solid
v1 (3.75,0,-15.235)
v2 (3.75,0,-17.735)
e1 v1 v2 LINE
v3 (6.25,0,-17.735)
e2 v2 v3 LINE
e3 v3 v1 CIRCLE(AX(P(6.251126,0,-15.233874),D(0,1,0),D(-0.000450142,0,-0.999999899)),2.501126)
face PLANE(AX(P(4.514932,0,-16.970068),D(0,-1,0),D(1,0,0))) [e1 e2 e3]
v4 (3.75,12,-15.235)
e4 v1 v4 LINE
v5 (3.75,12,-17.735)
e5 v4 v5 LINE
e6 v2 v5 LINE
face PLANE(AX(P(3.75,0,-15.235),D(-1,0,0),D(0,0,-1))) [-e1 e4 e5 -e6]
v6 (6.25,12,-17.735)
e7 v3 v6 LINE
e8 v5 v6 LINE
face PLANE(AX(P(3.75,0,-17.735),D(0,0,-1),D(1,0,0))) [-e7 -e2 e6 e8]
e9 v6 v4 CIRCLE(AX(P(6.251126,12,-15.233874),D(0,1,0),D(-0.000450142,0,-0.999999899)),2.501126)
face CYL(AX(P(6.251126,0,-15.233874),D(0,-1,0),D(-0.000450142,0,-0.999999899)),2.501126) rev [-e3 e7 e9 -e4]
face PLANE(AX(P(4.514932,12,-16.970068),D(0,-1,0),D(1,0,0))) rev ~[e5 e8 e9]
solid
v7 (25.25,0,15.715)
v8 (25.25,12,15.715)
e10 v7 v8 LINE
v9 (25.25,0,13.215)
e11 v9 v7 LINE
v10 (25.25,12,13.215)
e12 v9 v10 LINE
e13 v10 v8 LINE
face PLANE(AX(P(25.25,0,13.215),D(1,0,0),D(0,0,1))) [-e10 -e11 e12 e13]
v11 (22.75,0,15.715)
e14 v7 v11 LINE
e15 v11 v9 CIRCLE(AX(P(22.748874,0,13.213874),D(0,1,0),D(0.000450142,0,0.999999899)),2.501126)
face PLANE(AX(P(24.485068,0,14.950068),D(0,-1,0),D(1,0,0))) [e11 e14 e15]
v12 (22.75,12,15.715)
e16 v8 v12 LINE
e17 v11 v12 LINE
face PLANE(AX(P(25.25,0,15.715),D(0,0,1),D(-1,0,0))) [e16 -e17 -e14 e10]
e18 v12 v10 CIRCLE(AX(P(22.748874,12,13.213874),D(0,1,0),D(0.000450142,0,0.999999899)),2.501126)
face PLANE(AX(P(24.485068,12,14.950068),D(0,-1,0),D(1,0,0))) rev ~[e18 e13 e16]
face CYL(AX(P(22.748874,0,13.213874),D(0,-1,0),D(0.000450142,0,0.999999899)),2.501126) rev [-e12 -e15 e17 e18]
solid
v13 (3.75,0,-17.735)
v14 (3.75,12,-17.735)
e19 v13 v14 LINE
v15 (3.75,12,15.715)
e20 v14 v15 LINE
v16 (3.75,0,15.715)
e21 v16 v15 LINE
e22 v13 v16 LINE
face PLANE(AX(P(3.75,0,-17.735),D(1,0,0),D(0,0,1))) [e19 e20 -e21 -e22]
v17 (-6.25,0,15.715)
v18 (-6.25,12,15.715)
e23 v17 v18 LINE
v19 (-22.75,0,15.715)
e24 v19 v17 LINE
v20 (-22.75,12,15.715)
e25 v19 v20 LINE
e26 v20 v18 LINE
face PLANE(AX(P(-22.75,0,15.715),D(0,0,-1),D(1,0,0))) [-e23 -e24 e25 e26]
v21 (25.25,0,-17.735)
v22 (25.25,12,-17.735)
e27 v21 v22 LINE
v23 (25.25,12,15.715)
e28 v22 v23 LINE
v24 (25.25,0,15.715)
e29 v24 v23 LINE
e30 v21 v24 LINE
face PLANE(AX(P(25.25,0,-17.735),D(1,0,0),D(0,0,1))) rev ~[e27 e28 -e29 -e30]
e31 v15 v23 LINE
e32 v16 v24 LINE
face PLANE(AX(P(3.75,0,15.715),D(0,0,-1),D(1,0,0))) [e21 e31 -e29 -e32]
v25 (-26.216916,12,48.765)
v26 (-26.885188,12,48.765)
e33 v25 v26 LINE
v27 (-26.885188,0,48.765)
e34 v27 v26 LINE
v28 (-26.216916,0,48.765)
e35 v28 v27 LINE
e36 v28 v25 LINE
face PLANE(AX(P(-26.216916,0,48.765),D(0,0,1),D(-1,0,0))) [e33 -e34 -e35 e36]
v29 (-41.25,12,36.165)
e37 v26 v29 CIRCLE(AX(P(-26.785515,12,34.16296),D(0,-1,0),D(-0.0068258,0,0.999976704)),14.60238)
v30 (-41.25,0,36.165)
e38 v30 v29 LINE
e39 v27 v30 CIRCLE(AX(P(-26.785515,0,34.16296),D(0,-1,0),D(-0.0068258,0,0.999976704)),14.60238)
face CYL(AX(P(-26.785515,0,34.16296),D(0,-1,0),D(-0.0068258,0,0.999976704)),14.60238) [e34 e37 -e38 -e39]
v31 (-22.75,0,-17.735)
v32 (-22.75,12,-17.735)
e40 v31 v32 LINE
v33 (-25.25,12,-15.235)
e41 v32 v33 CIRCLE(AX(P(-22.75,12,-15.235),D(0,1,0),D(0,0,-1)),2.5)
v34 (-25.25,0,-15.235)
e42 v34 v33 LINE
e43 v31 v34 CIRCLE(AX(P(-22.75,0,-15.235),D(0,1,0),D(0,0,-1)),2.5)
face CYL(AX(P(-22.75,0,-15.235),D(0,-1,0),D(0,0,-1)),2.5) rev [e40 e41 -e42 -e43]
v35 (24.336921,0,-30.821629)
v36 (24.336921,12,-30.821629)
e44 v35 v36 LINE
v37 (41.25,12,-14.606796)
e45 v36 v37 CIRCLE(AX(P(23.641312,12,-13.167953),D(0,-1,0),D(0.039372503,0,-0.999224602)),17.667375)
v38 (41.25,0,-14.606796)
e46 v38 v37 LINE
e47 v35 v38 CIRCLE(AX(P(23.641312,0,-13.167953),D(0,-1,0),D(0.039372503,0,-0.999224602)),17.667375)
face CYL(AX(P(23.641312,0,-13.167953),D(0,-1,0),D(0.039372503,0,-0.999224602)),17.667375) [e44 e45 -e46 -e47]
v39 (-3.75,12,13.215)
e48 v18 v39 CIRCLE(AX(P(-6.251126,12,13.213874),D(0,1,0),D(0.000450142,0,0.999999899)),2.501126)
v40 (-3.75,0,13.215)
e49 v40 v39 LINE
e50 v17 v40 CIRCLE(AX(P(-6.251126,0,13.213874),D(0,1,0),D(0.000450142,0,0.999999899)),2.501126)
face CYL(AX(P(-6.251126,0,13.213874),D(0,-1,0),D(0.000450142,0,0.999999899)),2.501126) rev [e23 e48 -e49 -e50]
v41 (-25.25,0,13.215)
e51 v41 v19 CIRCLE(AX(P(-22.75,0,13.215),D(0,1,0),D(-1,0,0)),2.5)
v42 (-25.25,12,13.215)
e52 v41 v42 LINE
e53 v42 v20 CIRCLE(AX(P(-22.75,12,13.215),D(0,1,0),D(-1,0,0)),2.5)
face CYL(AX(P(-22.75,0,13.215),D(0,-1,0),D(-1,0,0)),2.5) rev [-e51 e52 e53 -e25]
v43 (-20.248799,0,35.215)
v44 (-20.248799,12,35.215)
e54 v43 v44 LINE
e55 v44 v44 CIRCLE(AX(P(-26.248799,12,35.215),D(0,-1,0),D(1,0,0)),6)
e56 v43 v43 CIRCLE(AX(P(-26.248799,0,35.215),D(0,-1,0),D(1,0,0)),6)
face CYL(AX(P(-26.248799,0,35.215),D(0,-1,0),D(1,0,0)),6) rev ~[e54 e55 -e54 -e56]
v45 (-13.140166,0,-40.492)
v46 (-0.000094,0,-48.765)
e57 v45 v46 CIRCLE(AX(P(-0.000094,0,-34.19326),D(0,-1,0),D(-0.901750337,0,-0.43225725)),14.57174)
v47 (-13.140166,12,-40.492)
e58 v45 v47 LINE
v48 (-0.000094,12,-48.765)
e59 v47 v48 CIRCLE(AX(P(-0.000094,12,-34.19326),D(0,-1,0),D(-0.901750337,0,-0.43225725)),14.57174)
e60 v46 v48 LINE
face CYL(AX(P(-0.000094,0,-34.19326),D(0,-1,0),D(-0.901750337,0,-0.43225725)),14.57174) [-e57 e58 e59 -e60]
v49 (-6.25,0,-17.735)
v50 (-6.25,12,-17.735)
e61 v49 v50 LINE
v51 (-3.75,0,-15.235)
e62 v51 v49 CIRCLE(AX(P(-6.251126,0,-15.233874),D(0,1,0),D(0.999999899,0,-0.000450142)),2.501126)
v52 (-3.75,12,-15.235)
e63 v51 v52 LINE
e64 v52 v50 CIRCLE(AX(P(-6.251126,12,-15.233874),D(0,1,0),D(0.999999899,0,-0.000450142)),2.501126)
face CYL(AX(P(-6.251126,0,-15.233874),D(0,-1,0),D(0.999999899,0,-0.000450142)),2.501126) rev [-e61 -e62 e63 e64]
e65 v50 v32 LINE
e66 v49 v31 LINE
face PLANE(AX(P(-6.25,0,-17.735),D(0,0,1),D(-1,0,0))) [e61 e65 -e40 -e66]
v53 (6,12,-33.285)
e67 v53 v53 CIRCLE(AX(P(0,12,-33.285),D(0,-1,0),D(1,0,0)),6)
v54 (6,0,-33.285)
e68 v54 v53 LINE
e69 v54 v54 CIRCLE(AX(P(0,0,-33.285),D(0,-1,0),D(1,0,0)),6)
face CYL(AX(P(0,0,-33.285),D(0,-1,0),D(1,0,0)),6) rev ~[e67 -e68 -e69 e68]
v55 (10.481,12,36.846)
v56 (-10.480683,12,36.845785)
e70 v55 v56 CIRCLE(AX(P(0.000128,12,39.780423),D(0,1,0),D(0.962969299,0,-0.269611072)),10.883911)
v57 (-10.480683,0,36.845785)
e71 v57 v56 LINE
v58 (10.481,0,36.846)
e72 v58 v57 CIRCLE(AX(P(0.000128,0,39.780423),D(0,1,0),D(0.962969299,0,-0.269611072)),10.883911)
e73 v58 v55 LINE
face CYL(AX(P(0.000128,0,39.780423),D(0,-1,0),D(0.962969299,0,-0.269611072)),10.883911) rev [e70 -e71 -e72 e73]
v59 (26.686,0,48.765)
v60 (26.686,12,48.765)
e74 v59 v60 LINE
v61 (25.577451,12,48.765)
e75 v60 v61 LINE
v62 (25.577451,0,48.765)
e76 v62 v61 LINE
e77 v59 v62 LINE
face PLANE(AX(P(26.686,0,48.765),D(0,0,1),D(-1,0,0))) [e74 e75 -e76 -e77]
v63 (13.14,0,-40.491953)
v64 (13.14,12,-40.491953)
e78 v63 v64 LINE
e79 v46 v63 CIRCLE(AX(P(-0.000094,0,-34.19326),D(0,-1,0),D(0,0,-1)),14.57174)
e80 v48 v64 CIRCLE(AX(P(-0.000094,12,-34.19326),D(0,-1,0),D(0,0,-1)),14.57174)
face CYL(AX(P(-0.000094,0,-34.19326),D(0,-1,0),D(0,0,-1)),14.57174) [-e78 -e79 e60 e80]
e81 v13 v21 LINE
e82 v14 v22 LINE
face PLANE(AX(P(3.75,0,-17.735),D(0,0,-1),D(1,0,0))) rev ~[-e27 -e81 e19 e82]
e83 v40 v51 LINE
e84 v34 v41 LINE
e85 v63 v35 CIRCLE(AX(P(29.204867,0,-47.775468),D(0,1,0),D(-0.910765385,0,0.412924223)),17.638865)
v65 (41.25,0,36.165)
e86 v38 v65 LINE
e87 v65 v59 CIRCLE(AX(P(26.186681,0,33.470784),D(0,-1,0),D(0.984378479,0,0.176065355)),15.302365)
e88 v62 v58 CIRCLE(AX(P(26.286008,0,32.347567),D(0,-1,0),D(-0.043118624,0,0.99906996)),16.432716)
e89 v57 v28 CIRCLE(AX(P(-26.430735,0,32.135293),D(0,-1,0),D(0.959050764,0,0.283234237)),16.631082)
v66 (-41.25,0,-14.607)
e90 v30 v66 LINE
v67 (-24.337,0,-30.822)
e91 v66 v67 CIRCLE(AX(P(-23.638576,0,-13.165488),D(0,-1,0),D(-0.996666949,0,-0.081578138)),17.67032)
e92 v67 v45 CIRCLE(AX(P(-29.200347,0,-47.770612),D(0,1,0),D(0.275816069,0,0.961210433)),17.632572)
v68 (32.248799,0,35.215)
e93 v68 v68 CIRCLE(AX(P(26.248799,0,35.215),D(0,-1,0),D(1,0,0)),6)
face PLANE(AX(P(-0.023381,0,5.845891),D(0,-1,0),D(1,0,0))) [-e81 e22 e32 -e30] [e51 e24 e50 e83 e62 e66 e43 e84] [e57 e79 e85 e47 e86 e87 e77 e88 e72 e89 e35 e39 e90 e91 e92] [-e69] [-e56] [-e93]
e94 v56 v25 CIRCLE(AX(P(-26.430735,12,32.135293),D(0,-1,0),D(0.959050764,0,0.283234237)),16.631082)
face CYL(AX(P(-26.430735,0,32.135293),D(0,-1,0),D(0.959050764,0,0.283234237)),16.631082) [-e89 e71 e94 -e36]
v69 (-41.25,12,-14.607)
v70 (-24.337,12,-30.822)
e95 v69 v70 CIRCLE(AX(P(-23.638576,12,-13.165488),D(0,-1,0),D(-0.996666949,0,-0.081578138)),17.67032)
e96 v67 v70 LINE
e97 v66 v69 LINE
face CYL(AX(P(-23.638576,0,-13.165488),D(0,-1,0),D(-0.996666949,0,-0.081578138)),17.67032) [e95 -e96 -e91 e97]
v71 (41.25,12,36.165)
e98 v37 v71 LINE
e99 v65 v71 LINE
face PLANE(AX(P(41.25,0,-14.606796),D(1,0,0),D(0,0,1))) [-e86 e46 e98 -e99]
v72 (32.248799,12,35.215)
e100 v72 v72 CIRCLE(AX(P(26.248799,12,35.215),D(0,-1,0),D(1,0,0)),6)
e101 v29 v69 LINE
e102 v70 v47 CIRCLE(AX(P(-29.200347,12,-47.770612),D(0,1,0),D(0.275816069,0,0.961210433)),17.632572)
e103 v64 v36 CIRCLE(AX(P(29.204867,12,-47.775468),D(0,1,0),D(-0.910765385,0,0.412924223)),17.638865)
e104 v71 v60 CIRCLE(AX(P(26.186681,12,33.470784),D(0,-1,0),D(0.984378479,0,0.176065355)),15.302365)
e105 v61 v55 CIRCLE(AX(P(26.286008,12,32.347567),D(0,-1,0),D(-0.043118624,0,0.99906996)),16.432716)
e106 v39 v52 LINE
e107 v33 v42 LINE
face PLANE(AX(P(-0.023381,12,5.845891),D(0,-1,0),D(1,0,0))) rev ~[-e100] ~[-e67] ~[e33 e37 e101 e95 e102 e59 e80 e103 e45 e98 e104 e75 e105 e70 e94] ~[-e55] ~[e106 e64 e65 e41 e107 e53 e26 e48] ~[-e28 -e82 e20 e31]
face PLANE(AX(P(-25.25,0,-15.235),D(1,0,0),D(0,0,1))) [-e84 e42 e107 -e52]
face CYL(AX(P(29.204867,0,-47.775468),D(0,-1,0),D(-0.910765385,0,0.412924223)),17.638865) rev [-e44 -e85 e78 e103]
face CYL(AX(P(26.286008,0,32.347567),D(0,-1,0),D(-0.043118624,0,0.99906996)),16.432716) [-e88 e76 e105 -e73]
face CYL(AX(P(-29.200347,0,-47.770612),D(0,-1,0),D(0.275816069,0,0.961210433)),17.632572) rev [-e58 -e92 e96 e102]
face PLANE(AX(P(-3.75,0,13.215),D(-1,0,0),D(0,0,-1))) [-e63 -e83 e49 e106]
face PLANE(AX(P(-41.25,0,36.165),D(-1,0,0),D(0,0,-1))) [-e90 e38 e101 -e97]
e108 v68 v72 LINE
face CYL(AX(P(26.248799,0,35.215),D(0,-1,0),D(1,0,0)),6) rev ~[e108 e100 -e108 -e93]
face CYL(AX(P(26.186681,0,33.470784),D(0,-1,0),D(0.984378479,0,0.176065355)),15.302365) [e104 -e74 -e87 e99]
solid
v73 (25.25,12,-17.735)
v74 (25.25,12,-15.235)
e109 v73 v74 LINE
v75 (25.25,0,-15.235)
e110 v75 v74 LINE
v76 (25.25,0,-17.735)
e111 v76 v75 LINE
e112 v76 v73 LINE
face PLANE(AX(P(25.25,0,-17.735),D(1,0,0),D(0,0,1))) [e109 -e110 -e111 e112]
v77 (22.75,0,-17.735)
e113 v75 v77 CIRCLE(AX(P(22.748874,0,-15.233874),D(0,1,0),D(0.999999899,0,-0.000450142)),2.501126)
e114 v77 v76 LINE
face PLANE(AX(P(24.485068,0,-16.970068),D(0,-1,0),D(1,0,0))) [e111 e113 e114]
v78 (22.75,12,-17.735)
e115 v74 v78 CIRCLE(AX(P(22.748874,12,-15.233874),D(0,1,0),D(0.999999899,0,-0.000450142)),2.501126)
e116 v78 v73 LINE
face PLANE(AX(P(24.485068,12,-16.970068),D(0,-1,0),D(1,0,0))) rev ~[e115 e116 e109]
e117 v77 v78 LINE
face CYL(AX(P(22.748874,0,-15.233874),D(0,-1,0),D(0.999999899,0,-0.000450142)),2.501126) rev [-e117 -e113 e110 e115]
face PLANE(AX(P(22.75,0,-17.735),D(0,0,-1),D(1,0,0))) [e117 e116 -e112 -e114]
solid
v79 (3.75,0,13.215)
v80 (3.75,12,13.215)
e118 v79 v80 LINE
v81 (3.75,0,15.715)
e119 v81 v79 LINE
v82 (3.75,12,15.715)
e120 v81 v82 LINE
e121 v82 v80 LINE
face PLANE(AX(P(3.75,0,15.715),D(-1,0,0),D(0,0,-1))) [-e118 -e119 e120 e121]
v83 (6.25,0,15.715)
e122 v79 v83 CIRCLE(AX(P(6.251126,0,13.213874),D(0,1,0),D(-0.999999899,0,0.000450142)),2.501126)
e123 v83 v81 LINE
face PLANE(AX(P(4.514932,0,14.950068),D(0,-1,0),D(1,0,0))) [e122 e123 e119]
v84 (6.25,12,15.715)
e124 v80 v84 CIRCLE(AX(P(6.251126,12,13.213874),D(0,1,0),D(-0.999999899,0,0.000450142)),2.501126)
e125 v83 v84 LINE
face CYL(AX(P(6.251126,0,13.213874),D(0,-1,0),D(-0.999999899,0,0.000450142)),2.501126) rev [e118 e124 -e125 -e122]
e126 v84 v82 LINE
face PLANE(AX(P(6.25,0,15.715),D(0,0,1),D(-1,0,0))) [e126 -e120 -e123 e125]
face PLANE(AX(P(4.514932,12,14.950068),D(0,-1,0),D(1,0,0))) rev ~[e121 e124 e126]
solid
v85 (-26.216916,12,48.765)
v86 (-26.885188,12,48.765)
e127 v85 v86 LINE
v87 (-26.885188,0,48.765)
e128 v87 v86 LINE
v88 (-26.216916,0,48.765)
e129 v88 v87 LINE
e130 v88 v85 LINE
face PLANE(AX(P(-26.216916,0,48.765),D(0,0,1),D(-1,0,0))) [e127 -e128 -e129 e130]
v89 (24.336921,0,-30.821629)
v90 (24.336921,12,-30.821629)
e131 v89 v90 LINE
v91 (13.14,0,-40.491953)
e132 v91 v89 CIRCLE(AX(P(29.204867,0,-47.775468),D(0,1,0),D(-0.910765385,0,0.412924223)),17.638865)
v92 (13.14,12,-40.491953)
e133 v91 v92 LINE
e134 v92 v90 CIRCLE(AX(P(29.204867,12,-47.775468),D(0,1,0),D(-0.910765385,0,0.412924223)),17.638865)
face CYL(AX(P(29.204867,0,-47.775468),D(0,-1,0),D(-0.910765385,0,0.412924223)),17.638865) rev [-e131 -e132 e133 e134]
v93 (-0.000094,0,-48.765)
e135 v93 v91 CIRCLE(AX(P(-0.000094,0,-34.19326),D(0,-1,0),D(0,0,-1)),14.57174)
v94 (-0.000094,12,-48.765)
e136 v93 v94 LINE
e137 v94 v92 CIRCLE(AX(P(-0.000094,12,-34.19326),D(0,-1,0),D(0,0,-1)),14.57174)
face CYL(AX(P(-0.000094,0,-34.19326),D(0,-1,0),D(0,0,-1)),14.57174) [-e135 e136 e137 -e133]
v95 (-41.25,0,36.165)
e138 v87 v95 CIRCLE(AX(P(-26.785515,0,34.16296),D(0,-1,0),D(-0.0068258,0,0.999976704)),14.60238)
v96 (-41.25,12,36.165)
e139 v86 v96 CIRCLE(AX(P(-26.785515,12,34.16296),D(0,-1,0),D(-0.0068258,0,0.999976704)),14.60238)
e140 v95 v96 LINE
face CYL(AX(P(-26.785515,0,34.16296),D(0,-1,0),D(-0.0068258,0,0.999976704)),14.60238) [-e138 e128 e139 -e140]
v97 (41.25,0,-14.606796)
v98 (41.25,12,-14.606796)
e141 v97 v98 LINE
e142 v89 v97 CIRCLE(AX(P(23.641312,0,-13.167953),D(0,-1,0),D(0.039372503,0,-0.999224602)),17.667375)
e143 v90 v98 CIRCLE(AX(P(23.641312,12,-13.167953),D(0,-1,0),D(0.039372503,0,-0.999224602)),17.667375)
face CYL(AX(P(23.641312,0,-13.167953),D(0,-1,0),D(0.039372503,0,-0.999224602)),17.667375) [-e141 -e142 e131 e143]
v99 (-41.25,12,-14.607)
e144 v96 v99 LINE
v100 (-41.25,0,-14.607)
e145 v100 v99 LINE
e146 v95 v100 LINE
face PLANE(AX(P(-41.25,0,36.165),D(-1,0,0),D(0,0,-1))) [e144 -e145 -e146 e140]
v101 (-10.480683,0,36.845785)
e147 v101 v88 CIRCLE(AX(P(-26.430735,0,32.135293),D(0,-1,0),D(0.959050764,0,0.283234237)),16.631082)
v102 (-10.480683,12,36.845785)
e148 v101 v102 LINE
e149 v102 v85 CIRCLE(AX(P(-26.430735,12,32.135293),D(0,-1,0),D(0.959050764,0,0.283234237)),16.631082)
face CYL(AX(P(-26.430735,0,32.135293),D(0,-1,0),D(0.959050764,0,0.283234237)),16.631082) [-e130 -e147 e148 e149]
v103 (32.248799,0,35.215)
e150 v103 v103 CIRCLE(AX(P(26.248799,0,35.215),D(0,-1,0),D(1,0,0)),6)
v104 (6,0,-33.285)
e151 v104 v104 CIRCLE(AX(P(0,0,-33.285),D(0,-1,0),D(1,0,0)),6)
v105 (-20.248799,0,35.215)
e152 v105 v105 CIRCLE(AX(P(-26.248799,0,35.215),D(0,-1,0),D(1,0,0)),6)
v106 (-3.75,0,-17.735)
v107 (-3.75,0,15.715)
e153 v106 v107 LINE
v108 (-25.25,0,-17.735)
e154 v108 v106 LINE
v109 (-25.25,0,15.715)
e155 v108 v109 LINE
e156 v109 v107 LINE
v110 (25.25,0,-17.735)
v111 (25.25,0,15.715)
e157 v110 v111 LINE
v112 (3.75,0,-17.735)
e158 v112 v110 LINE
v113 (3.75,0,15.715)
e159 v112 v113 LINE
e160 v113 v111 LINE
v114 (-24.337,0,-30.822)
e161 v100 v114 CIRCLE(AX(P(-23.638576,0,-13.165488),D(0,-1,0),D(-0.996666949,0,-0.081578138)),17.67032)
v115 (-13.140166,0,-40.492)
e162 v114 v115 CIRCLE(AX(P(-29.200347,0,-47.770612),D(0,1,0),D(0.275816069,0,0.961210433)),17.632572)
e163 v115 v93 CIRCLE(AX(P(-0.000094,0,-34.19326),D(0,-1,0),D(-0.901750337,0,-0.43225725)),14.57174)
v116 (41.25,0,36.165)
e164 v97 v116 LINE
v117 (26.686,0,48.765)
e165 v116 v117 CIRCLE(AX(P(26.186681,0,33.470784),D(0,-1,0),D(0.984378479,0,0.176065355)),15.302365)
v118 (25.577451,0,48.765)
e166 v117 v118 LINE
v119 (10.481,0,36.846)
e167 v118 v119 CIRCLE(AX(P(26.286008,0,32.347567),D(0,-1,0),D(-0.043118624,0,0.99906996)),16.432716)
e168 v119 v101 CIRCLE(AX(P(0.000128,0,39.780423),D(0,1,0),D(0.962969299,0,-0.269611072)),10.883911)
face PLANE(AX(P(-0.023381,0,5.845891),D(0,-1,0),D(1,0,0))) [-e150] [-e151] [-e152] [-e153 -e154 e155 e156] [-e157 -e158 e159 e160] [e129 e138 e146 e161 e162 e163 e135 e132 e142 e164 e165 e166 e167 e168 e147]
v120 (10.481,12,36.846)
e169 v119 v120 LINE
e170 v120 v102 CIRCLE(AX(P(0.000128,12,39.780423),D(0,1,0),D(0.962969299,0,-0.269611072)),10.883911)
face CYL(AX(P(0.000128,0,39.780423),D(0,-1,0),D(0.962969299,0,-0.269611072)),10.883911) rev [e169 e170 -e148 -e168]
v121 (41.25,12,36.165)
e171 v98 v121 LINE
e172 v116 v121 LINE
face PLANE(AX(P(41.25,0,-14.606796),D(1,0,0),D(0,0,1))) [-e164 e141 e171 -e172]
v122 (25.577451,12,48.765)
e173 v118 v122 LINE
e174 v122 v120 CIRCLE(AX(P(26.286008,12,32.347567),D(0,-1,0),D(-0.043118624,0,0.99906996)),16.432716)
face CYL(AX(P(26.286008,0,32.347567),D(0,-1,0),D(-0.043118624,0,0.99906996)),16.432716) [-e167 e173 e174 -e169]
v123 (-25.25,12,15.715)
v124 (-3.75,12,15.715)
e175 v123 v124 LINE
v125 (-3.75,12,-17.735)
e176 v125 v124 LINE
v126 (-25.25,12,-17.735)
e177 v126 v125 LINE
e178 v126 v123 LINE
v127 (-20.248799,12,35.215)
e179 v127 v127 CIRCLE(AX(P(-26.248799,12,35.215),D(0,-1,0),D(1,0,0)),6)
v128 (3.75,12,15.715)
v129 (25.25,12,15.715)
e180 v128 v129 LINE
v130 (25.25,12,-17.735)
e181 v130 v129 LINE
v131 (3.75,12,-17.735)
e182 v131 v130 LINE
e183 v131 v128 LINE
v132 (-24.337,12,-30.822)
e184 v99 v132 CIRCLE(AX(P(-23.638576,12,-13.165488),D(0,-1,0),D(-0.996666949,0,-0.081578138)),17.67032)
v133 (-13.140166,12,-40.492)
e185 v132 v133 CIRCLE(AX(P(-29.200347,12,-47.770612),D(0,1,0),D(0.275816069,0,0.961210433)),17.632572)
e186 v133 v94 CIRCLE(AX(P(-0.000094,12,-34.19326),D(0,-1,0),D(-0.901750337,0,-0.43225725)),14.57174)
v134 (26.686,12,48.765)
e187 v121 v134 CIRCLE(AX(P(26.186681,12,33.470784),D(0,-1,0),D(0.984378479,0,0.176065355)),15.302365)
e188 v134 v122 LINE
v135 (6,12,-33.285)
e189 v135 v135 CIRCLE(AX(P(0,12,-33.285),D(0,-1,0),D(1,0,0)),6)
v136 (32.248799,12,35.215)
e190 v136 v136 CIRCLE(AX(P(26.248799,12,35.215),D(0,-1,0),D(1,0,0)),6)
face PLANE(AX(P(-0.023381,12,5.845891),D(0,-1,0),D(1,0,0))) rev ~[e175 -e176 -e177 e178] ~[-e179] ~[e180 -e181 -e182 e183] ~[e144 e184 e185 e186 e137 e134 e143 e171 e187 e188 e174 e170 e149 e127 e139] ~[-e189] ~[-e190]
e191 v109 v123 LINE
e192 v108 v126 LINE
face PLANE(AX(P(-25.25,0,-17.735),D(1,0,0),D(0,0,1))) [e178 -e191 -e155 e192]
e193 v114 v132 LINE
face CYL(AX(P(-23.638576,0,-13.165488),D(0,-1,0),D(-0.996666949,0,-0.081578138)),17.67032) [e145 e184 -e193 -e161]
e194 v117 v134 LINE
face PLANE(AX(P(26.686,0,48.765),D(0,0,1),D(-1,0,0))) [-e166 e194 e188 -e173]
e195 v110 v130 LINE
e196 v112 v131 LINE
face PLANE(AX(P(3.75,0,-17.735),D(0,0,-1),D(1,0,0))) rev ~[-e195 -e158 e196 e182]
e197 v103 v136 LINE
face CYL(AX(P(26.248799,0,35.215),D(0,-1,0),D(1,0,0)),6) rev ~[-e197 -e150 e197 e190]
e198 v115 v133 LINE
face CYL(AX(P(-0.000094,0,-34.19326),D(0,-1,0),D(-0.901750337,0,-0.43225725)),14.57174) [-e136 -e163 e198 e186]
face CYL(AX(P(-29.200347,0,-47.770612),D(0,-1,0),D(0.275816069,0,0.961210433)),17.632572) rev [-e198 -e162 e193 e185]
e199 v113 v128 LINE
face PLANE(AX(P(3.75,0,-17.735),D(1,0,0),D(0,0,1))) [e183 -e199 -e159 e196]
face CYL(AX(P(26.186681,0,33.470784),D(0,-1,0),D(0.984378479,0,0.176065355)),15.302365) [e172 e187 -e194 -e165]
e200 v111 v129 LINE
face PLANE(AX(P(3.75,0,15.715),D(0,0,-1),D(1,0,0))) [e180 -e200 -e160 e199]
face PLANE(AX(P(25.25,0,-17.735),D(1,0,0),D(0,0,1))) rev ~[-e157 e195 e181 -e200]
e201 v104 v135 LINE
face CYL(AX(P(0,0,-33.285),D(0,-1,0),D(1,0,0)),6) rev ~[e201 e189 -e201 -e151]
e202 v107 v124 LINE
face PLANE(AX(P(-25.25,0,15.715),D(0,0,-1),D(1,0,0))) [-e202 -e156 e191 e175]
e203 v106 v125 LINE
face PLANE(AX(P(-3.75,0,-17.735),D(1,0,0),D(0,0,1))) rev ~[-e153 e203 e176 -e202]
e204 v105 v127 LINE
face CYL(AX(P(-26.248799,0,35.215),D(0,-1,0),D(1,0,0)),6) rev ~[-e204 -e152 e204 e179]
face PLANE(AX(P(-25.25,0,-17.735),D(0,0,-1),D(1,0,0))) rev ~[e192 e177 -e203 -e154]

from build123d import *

# Parameters (mm, degrees)
F6_DEPTH = 12
F4_R     = 6
F4_W     = 21.5
F4_H     = 33.45
F3_W     = 21.5
F3_H     = 33.45
F3_R     = 6


with BuildPart() as f6:
    # F5 (on face) → F6 (new body)
    with BuildSketch(Plane.XZ):
        with BuildLine():
            Line((25.25, 15.715), (22.75, 15.715))
            ThreePointArc((22.75, 15.715), (24.5174373747, 14.9824373747), (25.25, 13.215))
            Line((25.25, 13.215), (25.25, 15.715))
        make_face()
    extrude(amount=-F6_DEPTH)


with BuildPart() as f6b:
    # F5 (on face) → F6, piece 2 (new body)
    with BuildSketch(Plane.XZ):
        with BuildLine():
            ThreePointArc((3.75, 13.215), (4.4825626253, 14.9824373747), (6.25, 15.715))
            Line((6.25, 15.715), (3.75, 15.715))
            Line((3.75, 15.715), (3.75, 13.215))
        make_face()
    extrude(amount=-F6_DEPTH)


with BuildPart() as f6c:
    # F5 (on face) → F6, piece 3 (new body)
    with BuildSketch(Plane.XZ):
        with BuildLine():
            Line((25.25, -17.735), (25.25, -15.235))
            ThreePointArc((25.25, -15.235), (24.5174373747, -17.0024373747), (22.75, -17.735))
            Line((22.75, -17.735), (25.25, -17.735))
        make_face()
    extrude(amount=-F6_DEPTH)


with BuildPart() as f6d:
    # F5 (on face) → F6, piece 4 (new body)
    with BuildSketch(Plane.XZ):
        with BuildLine():
            ThreePointArc((6.25, -17.735), (4.4825626253, -17.0024373747), (3.75, -15.235))
            Line((3.75, -15.235), (3.75, -17.735))
            Line((3.75, -17.735), (6.25, -17.735))
        make_face()
    extrude(amount=-F6_DEPTH)


with BuildPart() as f6e:
    # F4 (on face) → F6, piece 5 (new body)
    with BuildSketch(Plane.XZ):
        with BuildLine():
            ThreePointArc((-41.25, -14.607), (-35.8674022278, -25.9207231501), (-24.337, -30.822))
            ThreePointArc((-24.337, -30.822), (-17.6753424514, -34.4258801724), (-13.1401661783, -40.492))
            ThreePointArc((-13.1401661783, -40.492), (-7.7638565745, -46.5245050412), (-9.43185e-05, -48.765))
            ThreePointArc((-9.43185e-05, -48.765), (7.7636899207, -46.5244912019), (13.14, -40.4919531523))
            ThreePointArc((13.14, -40.4919531523), (17.6755802004, -34.4261199153), (24.3369212747, -30.8216288686))
            ThreePointArc((24.3369212747, -30.8216288686), (35.8680052264, -25.921153722), (41.25, -14.606796205))
            Line((41.25, -14.606796205), (41.25, 36.165))
            ThreePointArc((41.25, 36.165), (36.1986202104, 45.0433137098), (26.686, 48.765))
            Line((26.686, 48.765), (25.5774514153, 48.765))
            ThreePointArc((25.5774514153, 48.765), (16.1031746077, 45.24501144), (10.481, 36.846))
            ThreePointArc((10.481, 36.846), (0.0002400088, 28.896512173), (-10.4806832969, 36.8457846785))
            ThreePointArc((-10.4806832969, 36.8457846785), (-16.3890913636, 45.3926785372), (-26.2169155617, 48.765))
            Line((-26.2169155617, 48.765), (-26.6445539892, 48.765))
            Line((-26.6445539892, 48.765), (-26.6858417388, 48.765))
            Line((-26.6858417388, 48.765), (-26.8851875879, 48.765))
            ThreePointArc((-26.8851875879, 48.765), (-36.4145684312, 45.1407024127), (-41.25, 36.165))
            Line((-41.25, 36.165), (-41.25, -14.607))
        make_face()
        Polygon((-25.25, 15.715), (-22.75, 15.715), (-6.25, 15.715), (-3.75, 15.715), (-3.75, 13.215), (-3.75, -15.235), (-3.75, -17.735), (-6.25, -17.735), (-22.75, -17.735), (-25.25, -17.735), (-25.25, -15.235), (-25.25, 13.215), align=None, mode=Mode.SUBTRACT)
        with Locations((0, -33.285)):
            Circle(F4_R, mode=Mode.SUBTRACT)
        with Locations((14.5, -1.01)):
            Rectangle(F4_W, F4_H, mode=Mode.SUBTRACT)
        with Locations((-26.2487990011, 35.215)):
            Circle(F4_R, mode=Mode.SUBTRACT)
        with Locations((26.2487990011, 35.215)):
            Circle(F4_R, mode=Mode.SUBTRACT)
        with BuildLine():
            Line((-3.75, -17.735), (-3.75, -15.235))
            ThreePointArc((-3.75, -15.235), (-4.4825626253, -17.0024373747), (-6.25, -17.735))
            Line((-6.25, -17.735), (-3.75, -17.735))
        make_face()
        with BuildLine():
            Line((-3.75, 15.715), (-6.25, 15.715))
            ThreePointArc((-6.25, 15.715), (-4.4825626253, 14.9824373747), (-3.75, 13.215))
            Line((-3.75, 13.215), (-3.75, 15.715))
        make_face()
        with BuildLine():
            ThreePointArc((-25.25, 13.215), (-24.517766953, 14.982766953), (-22.75, 15.715))
            Line((-22.75, 15.715), (-25.25, 15.715))
            Line((-25.25, 15.715), (-25.25, 13.215))
        make_face()
        with BuildLine():
            ThreePointArc((-22.75, -17.735), (-24.517766953, -17.002766953), (-25.25, -15.235))
            Line((-25.25, -15.235), (-25.25, -17.735))
            Line((-25.25, -17.735), (-22.75, -17.735))
        make_face()
    extrude(amount=-F6_DEPTH)


with BuildPart() as f6f:
    # F3 (on face) → F6, piece 6 (new body)
    with BuildSketch(Plane.XZ):
        with BuildLine():
            ThreePointArc((-24.337, -30.822), (-17.6753424514, -34.4258801724), (-13.1401661783, -40.492))
            ThreePointArc((-13.1401661783, -40.492), (-7.7638565745, -46.5245050412), (-9.43185e-05, -48.765))
            ThreePointArc((-9.43185e-05, -48.765), (7.7636899207, -46.5244912019), (13.14, -40.4919531523))
            ThreePointArc((13.14, -40.4919531523), (17.6755802004, -34.4261199153), (24.3369212747, -30.8216288686))
            ThreePointArc((24.3369212747, -30.8216288686), (35.8680052264, -25.921153722), (41.25, -14.606796205))
            Line((41.25, -14.606796205), (41.25, 36.165))
            ThreePointArc((41.25, 36.165), (36.1986202104, 45.0433137098), (26.686, 48.765))
            Line((26.686, 48.765), (25.5774514153, 48.765))
            ThreePointArc((25.5774514153, 48.765), (16.1031746077, 45.24501144), (10.481, 36.846))
            ThreePointArc((10.481, 36.846), (0.0002400088, 28.896512173), (-10.4806832969, 36.8457846785))
            ThreePointArc((-10.4806832969, 36.8457846785), (-16.3890913636, 45.3926785372), (-26.2169155617, 48.765))
            Line((-26.2169155617, 48.765), (-26.6445539892, 48.765))
            Line((-26.6445539892, 48.765), (-26.6858417388, 48.765))
            Line((-26.6858417388, 48.765), (-26.8851875879, 48.765))
            ThreePointArc((-26.8851875879, 48.765), (-36.4145684312, 45.1407024127), (-41.25, 36.165))
            Line((-41.25, 36.165), (-41.25, -14.607))
            ThreePointArc((-41.25, -14.607), (-35.8674022278, -25.9207231501), (-24.337, -30.822))
        make_face()
        with Locations((-14.5, -1.01)):
            Rectangle(F3_W, F3_H, mode=Mode.SUBTRACT)
        with Locations((0, -33.285)):
            Circle(F3_R, mode=Mode.SUBTRACT)
        with Locations((14.5, -1.01)):
            Rectangle(F3_W, F3_H, mode=Mode.SUBTRACT)
        with Locations((-26.2487990011, 35.215)):
            Circle(F3_R, mode=Mode.SUBTRACT)
        with Locations((26.2487990011, 35.215)):
            Circle(F3_R, mode=Mode.SUBTRACT)
    extrude(amount=-F6_DEPTH)


solid = Compound([f6.part, f6b.part, f6c.part, f6d.part, f6e.part, f6f.part])
